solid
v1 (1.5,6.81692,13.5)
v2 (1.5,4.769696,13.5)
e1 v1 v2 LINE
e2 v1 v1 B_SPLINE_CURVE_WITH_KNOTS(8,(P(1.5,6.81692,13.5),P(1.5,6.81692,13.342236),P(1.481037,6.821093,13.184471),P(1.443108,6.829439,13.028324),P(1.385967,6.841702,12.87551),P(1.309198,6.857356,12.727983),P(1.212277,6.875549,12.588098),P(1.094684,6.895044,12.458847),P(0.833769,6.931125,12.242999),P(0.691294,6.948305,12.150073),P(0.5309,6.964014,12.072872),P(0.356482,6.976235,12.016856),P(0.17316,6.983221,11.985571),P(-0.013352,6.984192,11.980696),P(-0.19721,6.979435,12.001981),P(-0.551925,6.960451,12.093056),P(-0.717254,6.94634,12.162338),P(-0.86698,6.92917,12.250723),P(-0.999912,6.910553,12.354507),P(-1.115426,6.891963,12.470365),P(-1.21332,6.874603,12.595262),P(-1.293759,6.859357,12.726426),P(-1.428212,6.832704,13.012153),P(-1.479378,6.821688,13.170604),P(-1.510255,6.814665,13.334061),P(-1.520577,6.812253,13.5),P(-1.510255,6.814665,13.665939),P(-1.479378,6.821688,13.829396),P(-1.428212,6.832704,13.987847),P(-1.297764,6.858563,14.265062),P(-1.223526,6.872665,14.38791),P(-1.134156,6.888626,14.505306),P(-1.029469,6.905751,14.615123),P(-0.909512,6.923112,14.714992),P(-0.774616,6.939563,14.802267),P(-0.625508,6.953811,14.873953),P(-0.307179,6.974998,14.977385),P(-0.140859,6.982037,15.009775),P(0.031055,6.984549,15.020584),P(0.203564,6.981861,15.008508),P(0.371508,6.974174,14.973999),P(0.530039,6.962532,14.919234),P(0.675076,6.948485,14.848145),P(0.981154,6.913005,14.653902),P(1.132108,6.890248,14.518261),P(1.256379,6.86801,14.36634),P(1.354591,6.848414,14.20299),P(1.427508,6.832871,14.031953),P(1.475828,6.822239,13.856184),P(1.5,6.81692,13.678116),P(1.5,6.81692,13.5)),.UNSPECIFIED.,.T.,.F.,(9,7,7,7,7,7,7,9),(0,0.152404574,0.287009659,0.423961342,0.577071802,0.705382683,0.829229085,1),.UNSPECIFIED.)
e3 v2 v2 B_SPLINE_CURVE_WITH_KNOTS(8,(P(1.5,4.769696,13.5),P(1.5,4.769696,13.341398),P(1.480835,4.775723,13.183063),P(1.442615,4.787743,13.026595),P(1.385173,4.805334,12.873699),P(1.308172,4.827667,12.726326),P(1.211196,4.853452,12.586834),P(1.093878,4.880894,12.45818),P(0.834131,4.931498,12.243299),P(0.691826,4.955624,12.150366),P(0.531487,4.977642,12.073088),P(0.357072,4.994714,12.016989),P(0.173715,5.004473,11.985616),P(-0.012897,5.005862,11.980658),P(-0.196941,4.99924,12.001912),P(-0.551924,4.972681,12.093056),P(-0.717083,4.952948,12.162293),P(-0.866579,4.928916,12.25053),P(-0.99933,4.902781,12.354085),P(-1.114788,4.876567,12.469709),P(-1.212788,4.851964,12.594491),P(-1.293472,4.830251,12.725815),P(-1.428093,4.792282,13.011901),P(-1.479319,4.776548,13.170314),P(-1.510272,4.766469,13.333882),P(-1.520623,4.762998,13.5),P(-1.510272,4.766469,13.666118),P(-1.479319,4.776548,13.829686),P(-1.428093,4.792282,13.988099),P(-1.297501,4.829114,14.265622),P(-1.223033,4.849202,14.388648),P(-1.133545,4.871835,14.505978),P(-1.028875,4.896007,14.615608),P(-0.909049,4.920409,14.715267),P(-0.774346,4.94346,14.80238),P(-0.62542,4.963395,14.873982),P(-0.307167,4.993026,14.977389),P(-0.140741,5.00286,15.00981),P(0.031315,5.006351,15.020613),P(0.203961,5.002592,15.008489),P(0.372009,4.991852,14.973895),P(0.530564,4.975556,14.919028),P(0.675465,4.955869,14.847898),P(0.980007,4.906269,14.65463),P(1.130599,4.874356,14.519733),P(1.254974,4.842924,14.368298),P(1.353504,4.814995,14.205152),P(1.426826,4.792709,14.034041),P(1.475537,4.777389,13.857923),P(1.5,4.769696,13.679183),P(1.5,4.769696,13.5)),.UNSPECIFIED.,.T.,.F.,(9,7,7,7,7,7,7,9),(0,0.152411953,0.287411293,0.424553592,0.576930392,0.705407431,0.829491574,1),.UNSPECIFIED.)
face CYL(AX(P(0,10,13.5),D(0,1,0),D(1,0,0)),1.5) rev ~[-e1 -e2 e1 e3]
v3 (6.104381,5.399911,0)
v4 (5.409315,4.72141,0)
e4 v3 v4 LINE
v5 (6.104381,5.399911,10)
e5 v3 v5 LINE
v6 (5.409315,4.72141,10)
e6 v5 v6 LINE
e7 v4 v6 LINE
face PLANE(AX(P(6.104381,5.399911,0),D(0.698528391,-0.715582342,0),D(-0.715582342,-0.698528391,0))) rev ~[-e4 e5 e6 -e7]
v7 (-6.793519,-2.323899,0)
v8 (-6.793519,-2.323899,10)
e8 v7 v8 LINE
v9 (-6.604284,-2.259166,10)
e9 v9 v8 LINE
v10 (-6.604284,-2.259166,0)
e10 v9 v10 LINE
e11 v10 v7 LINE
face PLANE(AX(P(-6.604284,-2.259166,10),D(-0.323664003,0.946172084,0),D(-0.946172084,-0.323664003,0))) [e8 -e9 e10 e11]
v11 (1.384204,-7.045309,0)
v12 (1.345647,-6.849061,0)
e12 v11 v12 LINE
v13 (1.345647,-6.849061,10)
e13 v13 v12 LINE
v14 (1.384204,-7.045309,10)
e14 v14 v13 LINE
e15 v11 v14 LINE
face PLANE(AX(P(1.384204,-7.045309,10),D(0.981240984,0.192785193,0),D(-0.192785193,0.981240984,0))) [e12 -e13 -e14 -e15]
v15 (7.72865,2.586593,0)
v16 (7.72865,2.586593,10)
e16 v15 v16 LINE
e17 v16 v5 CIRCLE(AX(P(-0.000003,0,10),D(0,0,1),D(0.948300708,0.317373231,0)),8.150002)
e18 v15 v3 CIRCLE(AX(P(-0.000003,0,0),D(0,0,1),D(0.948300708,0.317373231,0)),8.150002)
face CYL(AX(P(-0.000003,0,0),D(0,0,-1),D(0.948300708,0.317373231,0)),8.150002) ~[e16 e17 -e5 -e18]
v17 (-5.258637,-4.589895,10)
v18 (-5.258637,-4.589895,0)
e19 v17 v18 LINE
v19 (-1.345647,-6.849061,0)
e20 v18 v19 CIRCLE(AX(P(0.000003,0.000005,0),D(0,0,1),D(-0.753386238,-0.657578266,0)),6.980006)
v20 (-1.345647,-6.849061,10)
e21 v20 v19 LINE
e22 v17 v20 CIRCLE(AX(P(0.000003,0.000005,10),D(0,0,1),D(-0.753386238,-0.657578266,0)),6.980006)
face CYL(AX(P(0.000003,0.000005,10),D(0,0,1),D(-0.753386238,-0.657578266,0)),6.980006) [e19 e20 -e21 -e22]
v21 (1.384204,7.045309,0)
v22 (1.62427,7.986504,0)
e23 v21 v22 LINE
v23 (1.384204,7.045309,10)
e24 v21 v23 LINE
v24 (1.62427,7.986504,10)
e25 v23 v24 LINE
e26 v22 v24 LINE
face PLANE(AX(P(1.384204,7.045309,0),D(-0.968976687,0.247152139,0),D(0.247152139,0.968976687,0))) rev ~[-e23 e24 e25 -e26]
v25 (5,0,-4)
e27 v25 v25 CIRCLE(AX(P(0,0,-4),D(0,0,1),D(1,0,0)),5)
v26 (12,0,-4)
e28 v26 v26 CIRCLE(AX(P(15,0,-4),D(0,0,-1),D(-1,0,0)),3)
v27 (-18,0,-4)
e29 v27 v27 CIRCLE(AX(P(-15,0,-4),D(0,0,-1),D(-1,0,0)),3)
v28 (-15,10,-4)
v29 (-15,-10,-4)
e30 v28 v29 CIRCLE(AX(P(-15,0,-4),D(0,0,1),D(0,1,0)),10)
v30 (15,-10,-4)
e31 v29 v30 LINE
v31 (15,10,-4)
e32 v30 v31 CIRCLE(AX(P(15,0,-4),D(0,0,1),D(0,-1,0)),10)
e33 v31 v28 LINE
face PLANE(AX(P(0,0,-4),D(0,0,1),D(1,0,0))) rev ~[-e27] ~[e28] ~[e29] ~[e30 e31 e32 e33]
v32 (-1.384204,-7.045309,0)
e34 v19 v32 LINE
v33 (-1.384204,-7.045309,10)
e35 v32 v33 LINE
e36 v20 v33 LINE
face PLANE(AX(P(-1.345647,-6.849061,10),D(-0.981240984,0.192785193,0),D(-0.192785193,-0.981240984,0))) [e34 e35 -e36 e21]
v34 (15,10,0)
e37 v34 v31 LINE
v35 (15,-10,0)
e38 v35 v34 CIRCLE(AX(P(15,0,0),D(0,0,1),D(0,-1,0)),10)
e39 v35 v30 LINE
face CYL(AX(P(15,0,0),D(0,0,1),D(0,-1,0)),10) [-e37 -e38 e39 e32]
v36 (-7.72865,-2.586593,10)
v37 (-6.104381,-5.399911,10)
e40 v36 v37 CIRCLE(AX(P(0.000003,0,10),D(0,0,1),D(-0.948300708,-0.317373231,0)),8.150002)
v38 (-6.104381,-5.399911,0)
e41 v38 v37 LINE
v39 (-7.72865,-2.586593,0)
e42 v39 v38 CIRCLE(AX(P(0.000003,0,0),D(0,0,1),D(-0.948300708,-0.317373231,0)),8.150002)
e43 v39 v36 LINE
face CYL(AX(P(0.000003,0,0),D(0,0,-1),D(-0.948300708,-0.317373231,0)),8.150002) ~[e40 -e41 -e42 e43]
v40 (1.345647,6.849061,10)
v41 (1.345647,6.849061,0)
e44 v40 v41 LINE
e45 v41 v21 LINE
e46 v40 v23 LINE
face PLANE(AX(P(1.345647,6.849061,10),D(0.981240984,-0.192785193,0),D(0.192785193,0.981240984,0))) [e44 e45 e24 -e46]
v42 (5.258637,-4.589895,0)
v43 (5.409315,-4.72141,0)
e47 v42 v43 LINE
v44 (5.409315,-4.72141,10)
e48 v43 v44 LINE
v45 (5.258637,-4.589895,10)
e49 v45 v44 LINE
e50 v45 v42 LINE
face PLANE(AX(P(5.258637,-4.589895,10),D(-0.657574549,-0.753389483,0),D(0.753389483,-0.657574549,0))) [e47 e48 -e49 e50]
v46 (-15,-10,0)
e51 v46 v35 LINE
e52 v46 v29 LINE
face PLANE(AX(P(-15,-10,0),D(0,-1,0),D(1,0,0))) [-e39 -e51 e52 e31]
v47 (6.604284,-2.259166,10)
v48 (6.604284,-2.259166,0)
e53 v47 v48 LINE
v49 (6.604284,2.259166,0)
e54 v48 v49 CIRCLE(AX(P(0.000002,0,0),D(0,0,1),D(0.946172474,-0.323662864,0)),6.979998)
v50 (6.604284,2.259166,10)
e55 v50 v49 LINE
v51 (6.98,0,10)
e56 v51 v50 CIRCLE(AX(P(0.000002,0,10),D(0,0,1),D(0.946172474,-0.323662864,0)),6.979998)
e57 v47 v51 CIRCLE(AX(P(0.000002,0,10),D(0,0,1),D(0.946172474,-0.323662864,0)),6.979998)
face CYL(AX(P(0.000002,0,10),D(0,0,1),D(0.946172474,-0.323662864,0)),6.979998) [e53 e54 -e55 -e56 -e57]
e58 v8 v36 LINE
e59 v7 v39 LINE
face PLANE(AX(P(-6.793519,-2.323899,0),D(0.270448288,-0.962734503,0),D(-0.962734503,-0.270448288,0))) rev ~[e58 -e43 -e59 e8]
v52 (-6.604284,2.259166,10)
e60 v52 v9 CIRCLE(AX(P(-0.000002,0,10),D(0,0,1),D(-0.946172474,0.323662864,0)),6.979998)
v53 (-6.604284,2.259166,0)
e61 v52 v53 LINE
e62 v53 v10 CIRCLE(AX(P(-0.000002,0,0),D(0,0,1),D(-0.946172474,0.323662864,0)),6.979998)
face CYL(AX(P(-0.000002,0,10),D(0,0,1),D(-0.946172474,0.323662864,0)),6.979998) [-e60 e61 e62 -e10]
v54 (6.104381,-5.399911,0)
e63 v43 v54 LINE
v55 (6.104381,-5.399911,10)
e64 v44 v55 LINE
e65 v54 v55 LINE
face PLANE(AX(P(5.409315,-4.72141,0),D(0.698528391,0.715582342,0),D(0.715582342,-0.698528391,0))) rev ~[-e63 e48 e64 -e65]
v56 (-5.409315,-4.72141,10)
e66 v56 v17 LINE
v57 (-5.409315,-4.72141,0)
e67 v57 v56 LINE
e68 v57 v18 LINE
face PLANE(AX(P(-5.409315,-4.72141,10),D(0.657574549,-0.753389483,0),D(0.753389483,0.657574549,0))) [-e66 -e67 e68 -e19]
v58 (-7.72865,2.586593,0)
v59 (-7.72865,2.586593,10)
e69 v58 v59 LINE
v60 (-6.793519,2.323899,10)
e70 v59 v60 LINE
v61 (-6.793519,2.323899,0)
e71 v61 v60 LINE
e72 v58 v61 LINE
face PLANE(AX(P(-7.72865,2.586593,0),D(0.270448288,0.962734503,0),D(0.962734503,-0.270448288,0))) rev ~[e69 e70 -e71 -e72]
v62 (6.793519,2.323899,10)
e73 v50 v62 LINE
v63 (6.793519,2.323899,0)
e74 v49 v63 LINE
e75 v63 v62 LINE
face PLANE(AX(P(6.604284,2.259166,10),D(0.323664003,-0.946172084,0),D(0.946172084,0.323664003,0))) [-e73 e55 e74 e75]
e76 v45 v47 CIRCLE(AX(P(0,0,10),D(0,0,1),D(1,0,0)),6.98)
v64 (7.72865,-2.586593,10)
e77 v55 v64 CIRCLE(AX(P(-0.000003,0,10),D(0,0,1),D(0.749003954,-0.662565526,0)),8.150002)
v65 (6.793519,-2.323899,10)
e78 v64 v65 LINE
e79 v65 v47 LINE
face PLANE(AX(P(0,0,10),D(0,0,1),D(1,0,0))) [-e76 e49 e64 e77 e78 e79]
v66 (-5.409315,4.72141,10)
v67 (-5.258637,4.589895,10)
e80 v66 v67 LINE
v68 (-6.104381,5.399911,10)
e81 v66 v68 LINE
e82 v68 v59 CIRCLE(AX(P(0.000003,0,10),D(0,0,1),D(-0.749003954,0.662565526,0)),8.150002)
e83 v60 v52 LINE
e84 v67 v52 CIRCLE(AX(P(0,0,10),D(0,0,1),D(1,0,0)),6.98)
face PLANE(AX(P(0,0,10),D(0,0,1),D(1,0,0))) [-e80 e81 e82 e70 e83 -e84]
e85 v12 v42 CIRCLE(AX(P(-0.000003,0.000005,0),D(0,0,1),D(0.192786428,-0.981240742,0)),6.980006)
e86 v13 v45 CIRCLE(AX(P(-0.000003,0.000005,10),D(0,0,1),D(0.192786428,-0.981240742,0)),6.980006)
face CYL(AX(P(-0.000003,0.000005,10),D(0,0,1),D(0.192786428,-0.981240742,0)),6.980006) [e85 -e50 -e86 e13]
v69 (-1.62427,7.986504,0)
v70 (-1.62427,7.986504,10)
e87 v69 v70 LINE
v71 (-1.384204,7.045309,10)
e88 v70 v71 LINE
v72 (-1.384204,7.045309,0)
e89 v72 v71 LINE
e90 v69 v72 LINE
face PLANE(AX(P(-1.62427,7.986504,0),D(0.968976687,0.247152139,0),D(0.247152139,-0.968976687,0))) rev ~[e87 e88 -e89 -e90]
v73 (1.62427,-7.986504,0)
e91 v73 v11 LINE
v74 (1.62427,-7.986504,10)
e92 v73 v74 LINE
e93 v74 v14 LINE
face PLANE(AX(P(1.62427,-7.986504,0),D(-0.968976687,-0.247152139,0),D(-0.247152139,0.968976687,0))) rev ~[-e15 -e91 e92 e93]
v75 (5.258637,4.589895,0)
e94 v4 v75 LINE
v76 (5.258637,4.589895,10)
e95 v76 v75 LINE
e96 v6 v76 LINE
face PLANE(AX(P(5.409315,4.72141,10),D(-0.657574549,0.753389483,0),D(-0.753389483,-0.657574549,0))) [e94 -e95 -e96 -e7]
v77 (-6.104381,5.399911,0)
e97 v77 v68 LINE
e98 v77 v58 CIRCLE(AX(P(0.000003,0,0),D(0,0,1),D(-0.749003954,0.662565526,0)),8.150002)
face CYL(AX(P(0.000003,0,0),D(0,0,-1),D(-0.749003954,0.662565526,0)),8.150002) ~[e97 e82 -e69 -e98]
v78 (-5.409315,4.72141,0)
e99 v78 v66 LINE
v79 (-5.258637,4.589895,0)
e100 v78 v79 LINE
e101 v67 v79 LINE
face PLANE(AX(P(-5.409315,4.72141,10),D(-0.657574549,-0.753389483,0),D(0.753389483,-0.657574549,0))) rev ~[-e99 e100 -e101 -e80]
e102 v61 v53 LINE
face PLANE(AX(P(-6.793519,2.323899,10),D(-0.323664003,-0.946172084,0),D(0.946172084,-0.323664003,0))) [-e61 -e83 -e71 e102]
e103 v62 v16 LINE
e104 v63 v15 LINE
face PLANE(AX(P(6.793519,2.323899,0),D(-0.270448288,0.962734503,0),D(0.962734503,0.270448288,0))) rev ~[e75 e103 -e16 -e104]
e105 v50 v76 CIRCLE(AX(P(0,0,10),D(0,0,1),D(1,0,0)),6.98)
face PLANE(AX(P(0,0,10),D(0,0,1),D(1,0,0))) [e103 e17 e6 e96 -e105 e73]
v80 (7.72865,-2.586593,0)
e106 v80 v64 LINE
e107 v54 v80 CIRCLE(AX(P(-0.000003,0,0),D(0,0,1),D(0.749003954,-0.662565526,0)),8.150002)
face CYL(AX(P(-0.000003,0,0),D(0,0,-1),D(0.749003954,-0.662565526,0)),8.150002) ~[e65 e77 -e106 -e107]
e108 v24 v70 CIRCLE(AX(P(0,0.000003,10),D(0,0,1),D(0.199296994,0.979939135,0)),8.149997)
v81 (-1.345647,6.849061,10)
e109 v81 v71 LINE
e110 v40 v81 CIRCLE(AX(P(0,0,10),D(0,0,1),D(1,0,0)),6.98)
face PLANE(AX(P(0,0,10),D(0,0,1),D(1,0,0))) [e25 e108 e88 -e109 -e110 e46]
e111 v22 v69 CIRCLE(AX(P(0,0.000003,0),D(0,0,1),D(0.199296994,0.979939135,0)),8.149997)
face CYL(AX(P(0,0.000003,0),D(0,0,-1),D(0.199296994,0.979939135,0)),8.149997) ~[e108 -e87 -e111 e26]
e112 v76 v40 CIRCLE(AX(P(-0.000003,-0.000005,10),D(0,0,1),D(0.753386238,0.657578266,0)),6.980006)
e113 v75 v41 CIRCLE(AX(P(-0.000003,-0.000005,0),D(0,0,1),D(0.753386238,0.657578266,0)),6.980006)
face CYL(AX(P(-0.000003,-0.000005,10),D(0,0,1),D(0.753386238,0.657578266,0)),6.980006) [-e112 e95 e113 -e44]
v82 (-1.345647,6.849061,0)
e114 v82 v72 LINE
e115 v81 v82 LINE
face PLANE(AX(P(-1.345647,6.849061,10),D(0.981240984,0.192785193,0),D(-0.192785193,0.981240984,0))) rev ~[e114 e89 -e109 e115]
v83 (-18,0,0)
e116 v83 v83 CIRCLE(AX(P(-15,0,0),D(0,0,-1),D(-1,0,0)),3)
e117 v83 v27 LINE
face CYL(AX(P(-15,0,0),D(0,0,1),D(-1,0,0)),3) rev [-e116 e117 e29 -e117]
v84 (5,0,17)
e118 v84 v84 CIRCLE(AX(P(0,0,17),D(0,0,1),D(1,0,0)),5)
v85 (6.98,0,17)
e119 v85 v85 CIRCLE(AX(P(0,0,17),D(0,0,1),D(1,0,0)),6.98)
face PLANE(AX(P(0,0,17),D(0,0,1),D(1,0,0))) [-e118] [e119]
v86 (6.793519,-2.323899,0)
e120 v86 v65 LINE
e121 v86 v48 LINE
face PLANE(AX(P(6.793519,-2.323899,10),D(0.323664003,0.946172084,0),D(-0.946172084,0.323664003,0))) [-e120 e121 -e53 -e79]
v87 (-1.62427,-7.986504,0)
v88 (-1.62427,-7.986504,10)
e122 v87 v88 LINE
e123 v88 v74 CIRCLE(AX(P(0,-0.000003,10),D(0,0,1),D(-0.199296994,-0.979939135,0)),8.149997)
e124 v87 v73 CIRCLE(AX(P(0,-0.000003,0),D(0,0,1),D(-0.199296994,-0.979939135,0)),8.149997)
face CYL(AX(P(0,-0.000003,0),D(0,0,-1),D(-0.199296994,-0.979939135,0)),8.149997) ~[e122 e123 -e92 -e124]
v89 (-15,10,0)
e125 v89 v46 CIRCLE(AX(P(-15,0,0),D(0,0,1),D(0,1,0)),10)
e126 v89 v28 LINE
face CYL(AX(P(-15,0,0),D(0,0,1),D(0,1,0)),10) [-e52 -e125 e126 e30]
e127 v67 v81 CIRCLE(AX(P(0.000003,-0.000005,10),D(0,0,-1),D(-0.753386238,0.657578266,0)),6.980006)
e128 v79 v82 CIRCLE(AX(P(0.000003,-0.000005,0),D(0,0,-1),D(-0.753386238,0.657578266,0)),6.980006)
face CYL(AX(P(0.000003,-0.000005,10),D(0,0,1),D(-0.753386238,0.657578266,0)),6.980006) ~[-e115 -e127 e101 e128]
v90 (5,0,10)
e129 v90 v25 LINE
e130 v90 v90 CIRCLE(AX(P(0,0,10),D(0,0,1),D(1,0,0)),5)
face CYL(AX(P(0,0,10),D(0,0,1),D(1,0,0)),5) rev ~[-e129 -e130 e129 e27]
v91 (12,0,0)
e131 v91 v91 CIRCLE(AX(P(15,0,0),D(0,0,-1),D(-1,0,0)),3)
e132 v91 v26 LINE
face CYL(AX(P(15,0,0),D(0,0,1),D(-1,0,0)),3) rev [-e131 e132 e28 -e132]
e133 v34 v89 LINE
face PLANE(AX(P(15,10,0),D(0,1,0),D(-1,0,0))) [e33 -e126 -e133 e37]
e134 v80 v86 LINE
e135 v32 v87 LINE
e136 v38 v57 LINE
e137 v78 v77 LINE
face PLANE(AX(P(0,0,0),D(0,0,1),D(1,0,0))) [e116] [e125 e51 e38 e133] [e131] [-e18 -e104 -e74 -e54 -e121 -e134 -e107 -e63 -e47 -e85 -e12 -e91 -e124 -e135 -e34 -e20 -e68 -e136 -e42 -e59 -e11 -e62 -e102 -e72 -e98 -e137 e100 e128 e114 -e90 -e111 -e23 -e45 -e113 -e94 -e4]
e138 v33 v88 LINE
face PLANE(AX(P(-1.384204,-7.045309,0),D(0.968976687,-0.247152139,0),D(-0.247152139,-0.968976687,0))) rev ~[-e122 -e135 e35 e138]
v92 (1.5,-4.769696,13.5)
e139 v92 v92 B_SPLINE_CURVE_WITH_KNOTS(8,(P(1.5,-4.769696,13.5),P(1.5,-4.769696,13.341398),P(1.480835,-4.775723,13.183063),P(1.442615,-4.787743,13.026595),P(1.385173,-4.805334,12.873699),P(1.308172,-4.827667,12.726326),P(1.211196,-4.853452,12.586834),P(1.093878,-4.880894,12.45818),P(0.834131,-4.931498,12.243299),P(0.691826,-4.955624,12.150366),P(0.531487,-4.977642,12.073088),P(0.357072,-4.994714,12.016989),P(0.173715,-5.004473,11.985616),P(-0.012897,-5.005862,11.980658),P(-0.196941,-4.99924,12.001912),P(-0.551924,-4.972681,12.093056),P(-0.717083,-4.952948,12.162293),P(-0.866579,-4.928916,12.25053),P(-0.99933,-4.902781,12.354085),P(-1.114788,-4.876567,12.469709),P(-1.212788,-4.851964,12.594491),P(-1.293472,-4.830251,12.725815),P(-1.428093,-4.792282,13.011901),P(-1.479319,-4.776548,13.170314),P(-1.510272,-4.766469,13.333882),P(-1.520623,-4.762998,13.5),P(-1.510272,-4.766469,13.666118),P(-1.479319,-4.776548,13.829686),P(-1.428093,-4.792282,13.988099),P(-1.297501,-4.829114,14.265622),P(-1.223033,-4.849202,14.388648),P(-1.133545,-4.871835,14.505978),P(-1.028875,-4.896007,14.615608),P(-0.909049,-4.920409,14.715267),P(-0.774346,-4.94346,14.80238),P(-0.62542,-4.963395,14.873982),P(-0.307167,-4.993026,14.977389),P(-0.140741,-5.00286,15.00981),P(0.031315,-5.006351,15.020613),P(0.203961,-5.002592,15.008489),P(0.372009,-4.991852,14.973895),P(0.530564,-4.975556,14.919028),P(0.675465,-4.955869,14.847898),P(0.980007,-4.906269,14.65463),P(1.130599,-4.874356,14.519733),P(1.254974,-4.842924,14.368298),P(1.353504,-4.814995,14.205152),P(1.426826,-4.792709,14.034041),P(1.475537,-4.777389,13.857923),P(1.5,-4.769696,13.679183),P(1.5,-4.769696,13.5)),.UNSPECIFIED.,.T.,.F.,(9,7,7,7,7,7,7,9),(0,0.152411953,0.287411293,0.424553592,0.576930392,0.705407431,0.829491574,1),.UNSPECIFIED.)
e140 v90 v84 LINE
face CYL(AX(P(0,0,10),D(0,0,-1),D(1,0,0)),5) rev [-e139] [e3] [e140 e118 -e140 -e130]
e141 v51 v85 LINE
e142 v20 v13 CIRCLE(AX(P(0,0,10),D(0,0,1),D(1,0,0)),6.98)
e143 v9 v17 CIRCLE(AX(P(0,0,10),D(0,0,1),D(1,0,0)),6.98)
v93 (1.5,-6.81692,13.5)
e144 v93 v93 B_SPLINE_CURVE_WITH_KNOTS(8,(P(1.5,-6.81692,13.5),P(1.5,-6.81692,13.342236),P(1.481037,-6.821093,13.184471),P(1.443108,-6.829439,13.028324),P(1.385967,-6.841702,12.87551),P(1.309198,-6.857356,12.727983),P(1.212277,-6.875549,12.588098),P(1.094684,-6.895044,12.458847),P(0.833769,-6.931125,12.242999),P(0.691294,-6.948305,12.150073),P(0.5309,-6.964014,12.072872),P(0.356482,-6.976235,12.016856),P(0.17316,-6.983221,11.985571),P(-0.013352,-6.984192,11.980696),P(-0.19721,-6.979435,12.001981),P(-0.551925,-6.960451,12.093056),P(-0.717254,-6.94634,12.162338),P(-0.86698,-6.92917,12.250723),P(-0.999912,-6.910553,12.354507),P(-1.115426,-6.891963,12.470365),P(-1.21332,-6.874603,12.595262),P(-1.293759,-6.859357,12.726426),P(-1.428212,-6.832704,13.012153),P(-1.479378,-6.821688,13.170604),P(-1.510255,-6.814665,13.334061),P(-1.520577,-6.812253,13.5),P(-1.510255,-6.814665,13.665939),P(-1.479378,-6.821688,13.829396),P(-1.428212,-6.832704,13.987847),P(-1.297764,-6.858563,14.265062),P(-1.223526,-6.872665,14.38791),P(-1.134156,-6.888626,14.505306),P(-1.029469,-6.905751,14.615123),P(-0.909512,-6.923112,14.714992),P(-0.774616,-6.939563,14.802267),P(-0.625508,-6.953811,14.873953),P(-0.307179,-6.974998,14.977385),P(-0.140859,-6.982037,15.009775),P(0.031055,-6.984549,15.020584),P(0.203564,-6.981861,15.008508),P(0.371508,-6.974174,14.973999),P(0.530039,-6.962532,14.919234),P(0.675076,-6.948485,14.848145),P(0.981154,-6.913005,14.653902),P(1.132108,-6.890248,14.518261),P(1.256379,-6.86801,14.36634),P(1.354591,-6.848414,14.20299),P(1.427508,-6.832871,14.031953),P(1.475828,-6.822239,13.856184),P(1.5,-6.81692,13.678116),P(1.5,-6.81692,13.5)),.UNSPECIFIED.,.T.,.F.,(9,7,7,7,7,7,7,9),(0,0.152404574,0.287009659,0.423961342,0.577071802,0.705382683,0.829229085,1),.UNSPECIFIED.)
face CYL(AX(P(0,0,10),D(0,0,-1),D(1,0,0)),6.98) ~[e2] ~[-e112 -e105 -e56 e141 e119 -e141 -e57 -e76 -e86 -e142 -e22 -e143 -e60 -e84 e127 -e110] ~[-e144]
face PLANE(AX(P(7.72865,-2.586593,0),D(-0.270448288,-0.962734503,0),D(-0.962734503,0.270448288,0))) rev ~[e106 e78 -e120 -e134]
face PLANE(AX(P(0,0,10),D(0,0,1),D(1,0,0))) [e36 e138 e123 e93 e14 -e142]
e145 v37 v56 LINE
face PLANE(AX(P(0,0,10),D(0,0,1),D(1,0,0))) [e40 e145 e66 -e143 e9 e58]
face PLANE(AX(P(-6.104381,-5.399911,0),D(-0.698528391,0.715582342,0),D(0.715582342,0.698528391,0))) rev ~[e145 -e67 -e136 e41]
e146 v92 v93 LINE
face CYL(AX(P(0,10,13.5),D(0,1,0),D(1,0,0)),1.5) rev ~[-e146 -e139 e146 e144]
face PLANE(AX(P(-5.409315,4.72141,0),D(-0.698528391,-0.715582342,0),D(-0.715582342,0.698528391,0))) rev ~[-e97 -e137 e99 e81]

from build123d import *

# Parameters (mm, degrees)
BOSS_EXTRUDE1_DEPTH = 10
SKETCH4_R           = 3
BOSS_EXTRUDE2_DEPTH = 4
CUT_EXTRUDE2_DEPTH  = 10
SKETCH9_R           = 5
CUT_EXTRUDE3_DEPTH  = 15
SKETCH10_R          = 6.98
SKETCH10_R_2        = 5
BOSS_EXTRUDE3_DEPTH = 7
SKETCH11_R          = 1.5
CUT_EXTRUDE4_DEPTH  = 21


with BuildPart() as part:
    # Sketch3 → Boss-Extrude1 (new body)
    with BuildSketch(Plane.XY):
        with BuildLine():
            Line((-7.72865, 2.586593), (-6.793519, 2.323899))
            ThreePointArc((-6.793519, 2.323899), (-7.18, 0), (-6.793519, -2.323899))
            Line((-6.793519, -2.323899), (-7.72865, -2.586593))
            ThreePointArc((-7.72865, -2.586593), (-7.058107, -4.075), (-6.104381, -5.399911))
            Line((-6.104381, -5.399911), (-5.409315, -4.72141))
            ThreePointArc((-5.409315, -4.72141), (-3.59, -6.218062), (-1.384204, -7.045309))
            Line((-1.384204, -7.045309), (-1.62427, -7.986504))
            ThreePointArc((-1.62427, -7.986504), (0, -8.15), (1.62427, -7.986504))
            Line((1.62427, -7.986504), (1.384204, -7.045309))
            ThreePointArc((1.384204, -7.045309), (3.59, -6.218062), (5.409315, -4.72141))
            Line((5.409315, -4.72141), (6.104381, -5.399911))
            ThreePointArc((6.104381, -5.399911), (7.058107, -4.075), (7.72865, -2.586593))
            Line((7.72865, -2.586593), (6.793519, -2.323899))
            ThreePointArc((6.793519, -2.323899), (7.18, 0), (6.793519, 2.323899))
            Line((6.793519, 2.323899), (7.72865, 2.586593))
            ThreePointArc((7.72865, 2.586593), (7.058107, 4.075), (6.104381, 5.399911))
            Line((6.104381, 5.399911), (5.409315, 4.72141))
            ThreePointArc((5.409315, 4.72141), (3.59, 6.218062), (1.384204, 7.045309))
            Line((1.384204, 7.045309), (1.62427, 7.986504))
            ThreePointArc((1.62427, 7.986504), (0, 8.15), (-1.62427, 7.986504))
            Line((-1.62427, 7.986504), (-1.384204, 7.045309))
            ThreePointArc((-1.384204, 7.045309), (-3.59, 6.218062), (-5.409315, 4.72141))
            Line((-5.409315, 4.72141), (-6.104381, 5.399911))
            ThreePointArc((-6.104381, 5.399911), (-7.058107, 4.075), (-7.72865, 2.586593))
        make_face()
    extrude(amount=BOSS_EXTRUDE1_DEPTH)

    # Sketch4 → Boss-Extrude2 (add)
    with BuildSketch(Plane(origin=(0, 0, 0), x_dir=(-1, 0, 0), z_dir=(0, 0, -1))):
        with BuildLine():
            Line((-15, 10), (15, 10))
            ThreePointArc((15, 10), (25, 0), (15, -10))
            Line((15, -10), (-15, -10))
            ThreePointArc((-15, -10), (-25, 0), (-15, 10))
        make_face()
        with Locations((-15, 0)):
            Circle(SKETCH4_R, mode=Mode.SUBTRACT)
        with Locations((15, 0)):
            Circle(SKETCH4_R, mode=Mode.SUBTRACT)
    extrude(amount=BOSS_EXTRUDE2_DEPTH)

    # Sketch8 → Cut-Extrude2 (cut)
    with BuildSketch(Plane.XY.offset(10)):
        with BuildLine():
            Line((-5.409315, 4.72141), (-5.258637, 4.589895))
            ThreePointArc((-5.258637, 4.589895), (-3.49, 6.044857), (-1.345647, 6.849061))
            Line((-1.345647, 6.849061), (-1.384204, 7.045309))
            ThreePointArc((-1.384204, 7.045309), (-3.59, 6.218062), (-5.409315, 4.72141))
        make_face()
        with BuildLine():
            Line((5.409315, 4.72141), (5.258637, 4.589895))
            ThreePointArc((5.258637, 4.589895), (3.49, 6.044857), (1.345647, 6.849061))
            Line((1.345647, 6.849061), (1.384204, 7.045309))
            ThreePointArc((1.384204, 7.045309), (3.59, 6.218062), (5.409315, 4.72141))
        make_face()
        with BuildLine():
            Line((6.793519, -2.323899), (6.604284, -2.259166))
            ThreePointArc((6.604284, -2.259166), (6.98, 0), (6.604284, 2.259166))
            Line((6.604284, 2.259166), (6.793519, 2.323899))
            ThreePointArc((6.793519, 2.323899), (7.18, 0), (6.793519, -2.323899))
        make_face()
        with BuildLine():
            Line((1.384204, -7.045309), (1.345647, -6.849061))
            ThreePointArc((1.345647, -6.849061), (3.49, -6.044857), (5.258637, -4.589895))
            Line((5.258637, -4.589895), (5.409315, -4.72141))
            ThreePointArc((5.409315, -4.72141), (3.59, -6.218062), (1.384204, -7.045309))
        make_face()
        with BuildLine():
            Line((-5.409315, -4.72141), (-5.258637, -4.589895))
            ThreePointArc((-5.258637, -4.589895), (-3.49, -6.044857), (-1.345647, -6.849061))
            Line((-1.345647, -6.849061), (-1.384204, -7.045309))
            ThreePointArc((-1.384204, -7.045309), (-3.59, -6.218062), (-5.409315, -4.72141))
        make_face()
        with BuildLine():
            Line((-6.793519, 2.323899), (-6.604284, 2.259166))
            ThreePointArc((-6.604284, 2.259166), (-6.98, 0), (-6.604284, -2.259166))
            Line((-6.604284, -2.259166), (-6.793519, -2.323899))
            ThreePointArc((-6.793519, -2.323899), (-7.18, 0), (-6.793519, 2.323899))
        make_face()
    extrude(amount=-CUT_EXTRUDE2_DEPTH, mode=Mode.SUBTRACT)

    # Sketch9 → Cut-Extrude3 (cut, through all)
    with BuildSketch(Plane.XY.offset(10)):
        Circle(SKETCH9_R)
    extrude(amount=-CUT_EXTRUDE3_DEPTH, mode=Mode.SUBTRACT)

    # Sketch10 → Boss-Extrude3 (add)
    with BuildSketch(Plane.XY.offset(10)):
        Circle(SKETCH10_R)
        Circle(SKETCH10_R_2, mode=Mode.SUBTRACT)
    extrude(amount=BOSS_EXTRUDE3_DEPTH)

    # Sketch11 → Cut-Extrude4 (cut, through all)
    with BuildSketch(Plane(origin=(0, 10, 0), x_dir=(1, 0, 0), z_dir=(0, 1, 0))):
        with Locations((0, -13.5)):
            Circle(SKETCH11_R)
    extrude(amount=-CUT_EXTRUDE4_DEPTH, mode=Mode.SUBTRACT)


solid = part.part
